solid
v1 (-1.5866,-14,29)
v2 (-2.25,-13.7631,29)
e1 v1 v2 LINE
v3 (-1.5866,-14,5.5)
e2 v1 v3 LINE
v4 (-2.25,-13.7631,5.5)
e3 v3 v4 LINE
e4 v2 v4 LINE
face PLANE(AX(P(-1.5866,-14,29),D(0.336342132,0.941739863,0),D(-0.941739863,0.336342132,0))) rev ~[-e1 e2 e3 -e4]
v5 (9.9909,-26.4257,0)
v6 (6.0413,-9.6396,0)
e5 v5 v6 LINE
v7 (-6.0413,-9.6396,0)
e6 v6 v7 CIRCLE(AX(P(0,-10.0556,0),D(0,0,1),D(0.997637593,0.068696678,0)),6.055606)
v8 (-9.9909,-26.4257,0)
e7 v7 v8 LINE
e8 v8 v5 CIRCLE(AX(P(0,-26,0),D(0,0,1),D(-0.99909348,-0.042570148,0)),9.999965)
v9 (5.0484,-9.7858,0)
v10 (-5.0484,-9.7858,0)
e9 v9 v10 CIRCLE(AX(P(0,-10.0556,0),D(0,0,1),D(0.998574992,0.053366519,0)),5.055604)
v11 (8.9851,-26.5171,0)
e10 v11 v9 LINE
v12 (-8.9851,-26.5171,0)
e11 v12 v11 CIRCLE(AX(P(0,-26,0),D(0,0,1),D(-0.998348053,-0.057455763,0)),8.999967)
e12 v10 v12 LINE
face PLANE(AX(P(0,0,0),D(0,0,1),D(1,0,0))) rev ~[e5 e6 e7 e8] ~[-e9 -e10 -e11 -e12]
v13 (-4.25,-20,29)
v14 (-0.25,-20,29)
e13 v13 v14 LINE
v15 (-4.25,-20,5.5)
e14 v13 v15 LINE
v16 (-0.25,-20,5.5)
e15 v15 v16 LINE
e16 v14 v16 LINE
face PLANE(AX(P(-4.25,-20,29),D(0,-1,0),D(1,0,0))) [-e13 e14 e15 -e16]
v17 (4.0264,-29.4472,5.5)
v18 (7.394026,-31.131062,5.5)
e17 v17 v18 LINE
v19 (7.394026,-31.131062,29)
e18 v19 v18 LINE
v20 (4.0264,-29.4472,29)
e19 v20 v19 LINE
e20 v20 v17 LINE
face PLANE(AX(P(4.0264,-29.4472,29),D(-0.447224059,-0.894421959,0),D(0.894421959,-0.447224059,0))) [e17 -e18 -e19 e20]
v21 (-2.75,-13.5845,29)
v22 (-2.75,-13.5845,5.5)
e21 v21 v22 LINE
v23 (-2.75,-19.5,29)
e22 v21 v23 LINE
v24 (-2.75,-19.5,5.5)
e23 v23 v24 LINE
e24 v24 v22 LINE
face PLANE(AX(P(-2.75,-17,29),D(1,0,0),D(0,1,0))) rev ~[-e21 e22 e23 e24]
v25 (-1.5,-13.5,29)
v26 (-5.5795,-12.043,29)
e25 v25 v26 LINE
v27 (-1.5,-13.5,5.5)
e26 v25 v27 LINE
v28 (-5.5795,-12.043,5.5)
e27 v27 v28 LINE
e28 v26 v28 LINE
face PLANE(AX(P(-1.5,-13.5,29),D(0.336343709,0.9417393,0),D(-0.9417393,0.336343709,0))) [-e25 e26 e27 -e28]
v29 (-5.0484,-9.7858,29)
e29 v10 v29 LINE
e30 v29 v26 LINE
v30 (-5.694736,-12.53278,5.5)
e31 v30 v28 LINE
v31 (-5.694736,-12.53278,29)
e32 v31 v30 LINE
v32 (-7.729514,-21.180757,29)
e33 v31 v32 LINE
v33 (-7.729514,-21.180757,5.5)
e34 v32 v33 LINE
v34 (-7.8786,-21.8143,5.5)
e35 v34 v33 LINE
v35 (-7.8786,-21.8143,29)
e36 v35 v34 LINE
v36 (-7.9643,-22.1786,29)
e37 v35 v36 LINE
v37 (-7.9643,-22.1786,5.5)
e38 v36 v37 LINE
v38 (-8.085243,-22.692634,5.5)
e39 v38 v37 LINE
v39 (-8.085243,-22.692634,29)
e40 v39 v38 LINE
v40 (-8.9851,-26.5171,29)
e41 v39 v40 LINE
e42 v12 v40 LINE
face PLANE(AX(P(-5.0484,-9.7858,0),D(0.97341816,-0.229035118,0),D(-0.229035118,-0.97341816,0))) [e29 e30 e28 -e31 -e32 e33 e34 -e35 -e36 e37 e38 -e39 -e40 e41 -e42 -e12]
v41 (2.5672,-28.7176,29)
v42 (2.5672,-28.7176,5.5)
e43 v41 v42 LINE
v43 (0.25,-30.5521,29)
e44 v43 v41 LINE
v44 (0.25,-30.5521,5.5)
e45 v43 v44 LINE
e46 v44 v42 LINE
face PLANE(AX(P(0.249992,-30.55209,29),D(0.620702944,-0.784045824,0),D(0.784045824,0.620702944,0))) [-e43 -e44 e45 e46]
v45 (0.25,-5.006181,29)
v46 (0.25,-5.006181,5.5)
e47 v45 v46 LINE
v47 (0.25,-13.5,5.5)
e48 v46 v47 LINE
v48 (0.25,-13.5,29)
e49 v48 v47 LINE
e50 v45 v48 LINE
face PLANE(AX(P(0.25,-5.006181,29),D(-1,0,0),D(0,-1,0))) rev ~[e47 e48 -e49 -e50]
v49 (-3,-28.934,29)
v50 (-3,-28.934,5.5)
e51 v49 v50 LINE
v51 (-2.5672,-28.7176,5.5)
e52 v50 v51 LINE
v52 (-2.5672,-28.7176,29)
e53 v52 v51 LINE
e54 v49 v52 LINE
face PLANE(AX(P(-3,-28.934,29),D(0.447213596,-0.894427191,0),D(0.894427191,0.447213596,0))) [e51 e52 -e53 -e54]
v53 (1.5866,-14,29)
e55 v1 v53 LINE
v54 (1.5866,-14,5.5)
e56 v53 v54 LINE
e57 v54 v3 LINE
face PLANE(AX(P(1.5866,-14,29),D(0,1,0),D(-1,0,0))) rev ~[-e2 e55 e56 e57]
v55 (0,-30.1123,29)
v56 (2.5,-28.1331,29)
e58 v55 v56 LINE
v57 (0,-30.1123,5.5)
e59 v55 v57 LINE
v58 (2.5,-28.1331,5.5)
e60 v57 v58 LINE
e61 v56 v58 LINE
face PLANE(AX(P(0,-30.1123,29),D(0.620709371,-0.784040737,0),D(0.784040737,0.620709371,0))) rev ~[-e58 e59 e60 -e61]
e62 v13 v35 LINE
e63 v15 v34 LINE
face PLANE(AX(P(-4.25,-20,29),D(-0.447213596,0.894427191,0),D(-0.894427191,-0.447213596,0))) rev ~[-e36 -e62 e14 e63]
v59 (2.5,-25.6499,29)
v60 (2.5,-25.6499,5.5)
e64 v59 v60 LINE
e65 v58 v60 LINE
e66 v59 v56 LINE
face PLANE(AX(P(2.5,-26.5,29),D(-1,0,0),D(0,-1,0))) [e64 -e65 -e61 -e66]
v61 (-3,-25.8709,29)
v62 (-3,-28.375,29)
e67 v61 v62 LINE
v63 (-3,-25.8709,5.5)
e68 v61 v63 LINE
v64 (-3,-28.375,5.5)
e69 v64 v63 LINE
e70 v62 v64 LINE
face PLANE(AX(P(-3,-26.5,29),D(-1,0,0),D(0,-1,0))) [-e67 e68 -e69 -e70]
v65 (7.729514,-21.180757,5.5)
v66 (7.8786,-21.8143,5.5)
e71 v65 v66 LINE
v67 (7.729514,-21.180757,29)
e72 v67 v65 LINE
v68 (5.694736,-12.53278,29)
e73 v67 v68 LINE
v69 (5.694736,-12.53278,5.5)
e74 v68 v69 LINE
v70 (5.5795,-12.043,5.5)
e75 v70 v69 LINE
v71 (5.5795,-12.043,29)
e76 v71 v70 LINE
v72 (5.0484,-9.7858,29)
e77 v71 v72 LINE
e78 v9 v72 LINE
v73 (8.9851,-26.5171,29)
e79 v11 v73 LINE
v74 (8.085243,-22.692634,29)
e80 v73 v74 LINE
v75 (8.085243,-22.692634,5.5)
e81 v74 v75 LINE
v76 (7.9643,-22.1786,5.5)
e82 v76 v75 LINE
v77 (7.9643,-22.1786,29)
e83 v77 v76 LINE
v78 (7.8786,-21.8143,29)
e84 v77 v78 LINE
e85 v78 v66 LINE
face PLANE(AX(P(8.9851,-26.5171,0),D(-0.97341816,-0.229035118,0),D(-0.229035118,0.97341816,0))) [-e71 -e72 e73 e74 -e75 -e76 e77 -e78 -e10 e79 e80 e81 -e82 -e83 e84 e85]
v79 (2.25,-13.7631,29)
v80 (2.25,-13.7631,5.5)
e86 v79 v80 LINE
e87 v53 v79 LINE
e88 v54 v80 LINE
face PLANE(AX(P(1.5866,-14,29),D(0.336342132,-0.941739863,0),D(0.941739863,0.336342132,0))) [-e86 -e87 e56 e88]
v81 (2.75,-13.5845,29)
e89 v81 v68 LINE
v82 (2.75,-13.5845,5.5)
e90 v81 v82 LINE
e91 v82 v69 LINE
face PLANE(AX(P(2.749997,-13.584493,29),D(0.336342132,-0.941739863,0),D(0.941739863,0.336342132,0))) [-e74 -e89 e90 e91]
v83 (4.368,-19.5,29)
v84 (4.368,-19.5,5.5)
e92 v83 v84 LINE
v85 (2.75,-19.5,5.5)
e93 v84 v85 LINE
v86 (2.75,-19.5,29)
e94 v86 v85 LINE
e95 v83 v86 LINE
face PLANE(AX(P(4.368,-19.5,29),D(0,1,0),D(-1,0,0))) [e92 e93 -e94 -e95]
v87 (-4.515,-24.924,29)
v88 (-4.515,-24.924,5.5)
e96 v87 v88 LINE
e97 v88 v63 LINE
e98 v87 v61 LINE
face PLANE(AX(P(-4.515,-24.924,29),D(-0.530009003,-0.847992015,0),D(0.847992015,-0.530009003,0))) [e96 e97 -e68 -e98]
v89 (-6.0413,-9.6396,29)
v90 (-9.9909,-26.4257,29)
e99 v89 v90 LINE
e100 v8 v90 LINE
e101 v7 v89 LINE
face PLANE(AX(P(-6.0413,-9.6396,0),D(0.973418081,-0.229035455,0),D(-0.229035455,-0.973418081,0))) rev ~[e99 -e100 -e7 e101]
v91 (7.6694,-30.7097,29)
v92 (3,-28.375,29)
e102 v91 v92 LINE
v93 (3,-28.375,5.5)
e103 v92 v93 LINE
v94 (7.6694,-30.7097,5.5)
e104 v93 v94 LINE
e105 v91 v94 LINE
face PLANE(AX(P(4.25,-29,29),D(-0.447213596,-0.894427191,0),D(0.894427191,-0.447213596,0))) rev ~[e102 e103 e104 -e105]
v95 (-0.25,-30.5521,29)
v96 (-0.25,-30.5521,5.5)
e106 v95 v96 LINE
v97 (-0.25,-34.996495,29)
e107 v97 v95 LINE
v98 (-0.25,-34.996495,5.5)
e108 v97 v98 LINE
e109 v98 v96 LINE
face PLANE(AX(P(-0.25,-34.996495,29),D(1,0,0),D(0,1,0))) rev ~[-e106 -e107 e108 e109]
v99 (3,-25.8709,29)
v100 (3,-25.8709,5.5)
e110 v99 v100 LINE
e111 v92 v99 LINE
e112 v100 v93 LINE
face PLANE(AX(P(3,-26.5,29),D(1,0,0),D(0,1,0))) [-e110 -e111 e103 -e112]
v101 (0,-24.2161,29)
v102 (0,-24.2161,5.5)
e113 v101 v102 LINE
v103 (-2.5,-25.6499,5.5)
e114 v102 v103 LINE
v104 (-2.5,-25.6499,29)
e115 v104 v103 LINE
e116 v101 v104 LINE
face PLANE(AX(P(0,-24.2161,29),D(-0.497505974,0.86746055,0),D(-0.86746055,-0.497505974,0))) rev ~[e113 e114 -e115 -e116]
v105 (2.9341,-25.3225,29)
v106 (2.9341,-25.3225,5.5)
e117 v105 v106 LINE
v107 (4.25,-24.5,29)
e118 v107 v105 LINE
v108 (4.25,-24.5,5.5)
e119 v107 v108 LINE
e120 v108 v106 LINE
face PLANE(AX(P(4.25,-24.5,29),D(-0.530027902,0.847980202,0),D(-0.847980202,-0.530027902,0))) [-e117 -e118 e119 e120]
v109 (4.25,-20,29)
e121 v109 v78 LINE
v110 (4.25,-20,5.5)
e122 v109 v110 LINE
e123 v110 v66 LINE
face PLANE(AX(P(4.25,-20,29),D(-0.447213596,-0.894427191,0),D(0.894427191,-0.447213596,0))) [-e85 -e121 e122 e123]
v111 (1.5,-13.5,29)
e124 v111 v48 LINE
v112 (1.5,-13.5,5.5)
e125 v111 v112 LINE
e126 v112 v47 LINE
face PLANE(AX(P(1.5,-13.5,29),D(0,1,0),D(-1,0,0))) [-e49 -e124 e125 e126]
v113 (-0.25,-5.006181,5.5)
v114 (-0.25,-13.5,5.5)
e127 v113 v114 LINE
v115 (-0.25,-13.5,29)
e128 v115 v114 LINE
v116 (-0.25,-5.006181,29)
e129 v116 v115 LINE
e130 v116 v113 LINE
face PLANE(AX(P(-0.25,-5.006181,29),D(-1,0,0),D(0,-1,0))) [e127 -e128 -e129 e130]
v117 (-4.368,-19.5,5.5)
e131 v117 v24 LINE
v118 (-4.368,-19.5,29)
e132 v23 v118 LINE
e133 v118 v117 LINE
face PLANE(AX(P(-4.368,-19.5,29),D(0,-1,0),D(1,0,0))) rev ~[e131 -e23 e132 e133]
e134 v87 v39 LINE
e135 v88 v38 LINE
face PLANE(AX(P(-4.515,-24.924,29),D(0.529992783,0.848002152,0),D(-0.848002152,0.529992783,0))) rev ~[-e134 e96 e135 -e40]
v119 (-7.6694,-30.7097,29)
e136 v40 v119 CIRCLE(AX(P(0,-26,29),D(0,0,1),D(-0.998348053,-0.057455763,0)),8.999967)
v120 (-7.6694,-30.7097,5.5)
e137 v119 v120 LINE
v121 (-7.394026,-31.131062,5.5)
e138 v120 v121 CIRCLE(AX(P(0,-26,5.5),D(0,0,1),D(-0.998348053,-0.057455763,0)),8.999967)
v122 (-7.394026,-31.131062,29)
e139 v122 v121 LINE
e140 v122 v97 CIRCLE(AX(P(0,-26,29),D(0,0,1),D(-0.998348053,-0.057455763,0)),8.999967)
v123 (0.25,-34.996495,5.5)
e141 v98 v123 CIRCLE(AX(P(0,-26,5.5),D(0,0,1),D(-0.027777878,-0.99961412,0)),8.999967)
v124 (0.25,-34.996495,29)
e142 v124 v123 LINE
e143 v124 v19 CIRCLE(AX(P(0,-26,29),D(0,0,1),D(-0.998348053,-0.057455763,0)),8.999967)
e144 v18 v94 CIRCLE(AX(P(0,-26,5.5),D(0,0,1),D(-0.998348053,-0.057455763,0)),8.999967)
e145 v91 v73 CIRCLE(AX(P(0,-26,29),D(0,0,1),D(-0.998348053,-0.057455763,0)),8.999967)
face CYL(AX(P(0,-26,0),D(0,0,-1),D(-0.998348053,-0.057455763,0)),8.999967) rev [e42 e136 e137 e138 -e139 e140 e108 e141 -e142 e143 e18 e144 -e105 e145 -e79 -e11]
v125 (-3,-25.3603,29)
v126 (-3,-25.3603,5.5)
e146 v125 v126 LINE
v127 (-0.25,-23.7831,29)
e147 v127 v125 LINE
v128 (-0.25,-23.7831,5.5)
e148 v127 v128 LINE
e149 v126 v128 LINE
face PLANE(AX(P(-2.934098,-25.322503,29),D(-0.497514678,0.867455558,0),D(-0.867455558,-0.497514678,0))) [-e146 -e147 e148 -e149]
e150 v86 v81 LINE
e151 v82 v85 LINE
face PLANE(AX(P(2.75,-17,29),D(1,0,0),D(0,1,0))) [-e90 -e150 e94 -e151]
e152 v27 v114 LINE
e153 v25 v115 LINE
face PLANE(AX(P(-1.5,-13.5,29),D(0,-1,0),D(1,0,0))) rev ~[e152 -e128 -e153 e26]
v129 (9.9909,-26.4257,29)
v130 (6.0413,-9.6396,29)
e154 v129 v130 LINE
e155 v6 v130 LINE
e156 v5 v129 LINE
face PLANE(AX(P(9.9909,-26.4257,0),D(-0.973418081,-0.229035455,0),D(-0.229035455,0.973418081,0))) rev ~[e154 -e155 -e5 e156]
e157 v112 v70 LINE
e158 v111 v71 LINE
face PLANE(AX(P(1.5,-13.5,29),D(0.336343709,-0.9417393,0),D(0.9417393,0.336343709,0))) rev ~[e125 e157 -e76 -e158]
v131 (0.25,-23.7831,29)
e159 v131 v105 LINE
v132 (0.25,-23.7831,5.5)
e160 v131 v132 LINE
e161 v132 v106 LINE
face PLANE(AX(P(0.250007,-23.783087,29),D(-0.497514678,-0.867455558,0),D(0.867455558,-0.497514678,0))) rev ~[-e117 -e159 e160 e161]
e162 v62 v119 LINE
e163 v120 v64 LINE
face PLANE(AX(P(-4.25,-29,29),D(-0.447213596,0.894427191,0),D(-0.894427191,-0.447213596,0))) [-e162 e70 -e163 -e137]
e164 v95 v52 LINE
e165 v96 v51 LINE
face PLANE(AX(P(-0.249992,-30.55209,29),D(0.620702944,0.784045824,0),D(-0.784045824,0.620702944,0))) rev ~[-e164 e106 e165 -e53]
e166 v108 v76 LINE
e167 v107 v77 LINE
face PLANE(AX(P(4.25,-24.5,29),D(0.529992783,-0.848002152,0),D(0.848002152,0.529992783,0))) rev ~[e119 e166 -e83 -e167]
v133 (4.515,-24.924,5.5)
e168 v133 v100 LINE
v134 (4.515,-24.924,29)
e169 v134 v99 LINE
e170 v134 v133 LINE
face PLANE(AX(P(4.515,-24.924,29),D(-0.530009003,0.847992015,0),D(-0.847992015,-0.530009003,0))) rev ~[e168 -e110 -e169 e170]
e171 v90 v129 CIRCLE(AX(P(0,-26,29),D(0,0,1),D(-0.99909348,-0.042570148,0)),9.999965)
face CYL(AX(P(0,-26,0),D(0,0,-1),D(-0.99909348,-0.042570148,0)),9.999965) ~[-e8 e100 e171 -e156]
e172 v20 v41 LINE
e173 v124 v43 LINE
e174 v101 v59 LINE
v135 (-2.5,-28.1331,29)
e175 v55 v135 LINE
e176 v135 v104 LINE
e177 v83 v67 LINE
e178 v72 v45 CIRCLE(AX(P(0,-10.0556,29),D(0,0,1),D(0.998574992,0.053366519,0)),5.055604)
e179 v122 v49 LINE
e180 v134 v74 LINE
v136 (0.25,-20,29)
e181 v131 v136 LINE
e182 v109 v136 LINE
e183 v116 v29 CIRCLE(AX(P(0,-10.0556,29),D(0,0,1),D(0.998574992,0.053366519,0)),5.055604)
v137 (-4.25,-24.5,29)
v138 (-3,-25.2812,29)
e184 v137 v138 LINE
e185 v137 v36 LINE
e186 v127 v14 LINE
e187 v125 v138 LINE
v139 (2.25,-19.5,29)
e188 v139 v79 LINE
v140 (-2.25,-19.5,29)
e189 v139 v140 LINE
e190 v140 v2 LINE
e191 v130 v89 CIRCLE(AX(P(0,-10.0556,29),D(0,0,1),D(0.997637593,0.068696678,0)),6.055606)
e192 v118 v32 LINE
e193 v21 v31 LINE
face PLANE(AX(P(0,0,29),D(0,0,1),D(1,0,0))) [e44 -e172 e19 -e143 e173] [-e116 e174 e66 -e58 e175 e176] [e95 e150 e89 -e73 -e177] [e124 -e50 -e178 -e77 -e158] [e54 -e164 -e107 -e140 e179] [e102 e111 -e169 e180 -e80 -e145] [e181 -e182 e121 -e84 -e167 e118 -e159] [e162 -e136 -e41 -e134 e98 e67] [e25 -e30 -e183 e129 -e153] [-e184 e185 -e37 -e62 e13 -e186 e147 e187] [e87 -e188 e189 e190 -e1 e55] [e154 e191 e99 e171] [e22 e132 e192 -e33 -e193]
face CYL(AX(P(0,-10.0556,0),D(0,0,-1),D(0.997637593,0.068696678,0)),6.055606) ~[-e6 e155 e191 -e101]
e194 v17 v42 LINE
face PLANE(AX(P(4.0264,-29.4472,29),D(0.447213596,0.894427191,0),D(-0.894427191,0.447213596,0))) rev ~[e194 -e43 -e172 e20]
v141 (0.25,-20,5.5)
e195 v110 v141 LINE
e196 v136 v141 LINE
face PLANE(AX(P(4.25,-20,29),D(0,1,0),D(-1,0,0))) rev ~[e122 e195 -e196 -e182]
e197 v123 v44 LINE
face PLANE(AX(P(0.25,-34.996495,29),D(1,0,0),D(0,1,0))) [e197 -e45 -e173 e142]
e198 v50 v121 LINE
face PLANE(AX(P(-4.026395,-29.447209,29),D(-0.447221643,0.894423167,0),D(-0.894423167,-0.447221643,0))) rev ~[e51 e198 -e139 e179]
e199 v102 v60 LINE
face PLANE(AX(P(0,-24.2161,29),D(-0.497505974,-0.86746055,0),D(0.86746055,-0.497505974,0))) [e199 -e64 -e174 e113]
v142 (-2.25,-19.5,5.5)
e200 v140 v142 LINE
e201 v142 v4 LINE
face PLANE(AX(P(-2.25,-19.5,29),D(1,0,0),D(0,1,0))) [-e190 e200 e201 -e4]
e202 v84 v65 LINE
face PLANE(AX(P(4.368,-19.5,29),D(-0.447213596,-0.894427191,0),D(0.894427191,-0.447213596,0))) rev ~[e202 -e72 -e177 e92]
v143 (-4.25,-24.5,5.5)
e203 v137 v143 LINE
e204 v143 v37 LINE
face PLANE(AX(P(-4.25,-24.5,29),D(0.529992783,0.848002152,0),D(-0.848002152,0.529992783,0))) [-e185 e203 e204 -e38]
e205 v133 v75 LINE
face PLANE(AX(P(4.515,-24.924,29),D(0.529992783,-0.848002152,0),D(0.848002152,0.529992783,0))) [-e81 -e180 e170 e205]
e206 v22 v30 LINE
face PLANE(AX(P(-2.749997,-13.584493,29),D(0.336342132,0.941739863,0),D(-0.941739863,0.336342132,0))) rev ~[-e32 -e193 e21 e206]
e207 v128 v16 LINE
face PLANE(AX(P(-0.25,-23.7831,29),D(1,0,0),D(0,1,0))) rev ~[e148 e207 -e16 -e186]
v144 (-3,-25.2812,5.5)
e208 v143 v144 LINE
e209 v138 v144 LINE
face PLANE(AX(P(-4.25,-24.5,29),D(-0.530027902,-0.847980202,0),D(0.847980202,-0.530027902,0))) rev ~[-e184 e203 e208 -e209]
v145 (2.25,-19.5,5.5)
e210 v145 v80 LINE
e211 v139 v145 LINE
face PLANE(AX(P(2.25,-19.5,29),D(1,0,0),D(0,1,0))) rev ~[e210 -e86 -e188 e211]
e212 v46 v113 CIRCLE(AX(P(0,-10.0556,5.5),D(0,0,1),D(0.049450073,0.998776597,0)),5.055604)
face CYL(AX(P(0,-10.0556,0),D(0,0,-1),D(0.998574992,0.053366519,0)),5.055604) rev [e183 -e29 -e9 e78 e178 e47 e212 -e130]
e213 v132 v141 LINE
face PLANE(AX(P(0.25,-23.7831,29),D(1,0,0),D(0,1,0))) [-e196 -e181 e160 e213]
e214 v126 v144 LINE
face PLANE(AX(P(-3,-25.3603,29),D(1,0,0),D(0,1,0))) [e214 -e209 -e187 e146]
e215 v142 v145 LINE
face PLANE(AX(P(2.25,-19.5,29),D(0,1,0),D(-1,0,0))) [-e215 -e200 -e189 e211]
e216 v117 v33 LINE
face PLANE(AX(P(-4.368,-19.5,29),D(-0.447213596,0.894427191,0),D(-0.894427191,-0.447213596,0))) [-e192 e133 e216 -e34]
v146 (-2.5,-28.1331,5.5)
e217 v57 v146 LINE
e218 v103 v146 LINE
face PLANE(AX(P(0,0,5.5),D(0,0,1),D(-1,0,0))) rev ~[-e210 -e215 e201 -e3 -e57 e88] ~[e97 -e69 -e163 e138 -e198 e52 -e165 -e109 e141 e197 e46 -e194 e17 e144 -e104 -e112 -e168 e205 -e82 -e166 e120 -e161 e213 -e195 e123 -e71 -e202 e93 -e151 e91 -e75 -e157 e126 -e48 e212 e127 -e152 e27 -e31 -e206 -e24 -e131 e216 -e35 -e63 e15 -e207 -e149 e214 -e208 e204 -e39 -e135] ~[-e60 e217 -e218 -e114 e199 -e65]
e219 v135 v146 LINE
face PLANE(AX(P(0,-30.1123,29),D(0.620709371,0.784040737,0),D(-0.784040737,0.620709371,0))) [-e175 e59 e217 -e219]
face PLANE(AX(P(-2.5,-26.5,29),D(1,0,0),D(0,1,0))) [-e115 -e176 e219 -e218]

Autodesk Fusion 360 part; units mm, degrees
sketch "Boceto1" plane through (0, 0, 0) normal (0, 0, 1) x (1, 0, 0)
  line L0 (0, -31.5) -> (3, -31.5) construction
  circle A0 centre (3, -22.5) radius 1.5 construction
  circle A1 centre (3, -10.5) radius 1.5 construction
  circle A2 centre (-5.5, -17.5) radius 1.5 construction
  line L1 (0, -35) -> (0, -31.5) construction
  line L2 (0, -35) -> (0, -5) construction
  line L3 (0, -20) -> (7.4517, -20) construction
  circle A3 centre (0, -16.5) radius 1.5 construction
  circle A4 centre (5.5, -17.5) radius 1.5 construction
  circle A5 centre (-3, -22.5) radius 1.5 construction
  circle A6 centre (-3, -10.5) radius 1.5 construction
  line L4 (0, -20) -> (-7.4517, -20) construction
  circle A7 centre (-5.5, -26.5) radius 1.5 construction
  line L5 (8.9851, -26.5171) -> (5.0484, -9.7858)
  arc A8 (-8.9851, -26.5171) -> (8.9851, -26.5171) centre (0, -26) ccw
  circle A9 centre (0, -26.5) radius 1.5 construction
  circle A10 centre (5.5, -26.5) radius 1.5 construction
  circle A11 centre (3, -31.5) radius 1.5 construction
  line L6 (0, -26.5) -> (5.5, -26.5) construction
  circle A12 centre (-3, -31.5) radius 1.5 construction
  line L7 (0, -35) -> (0, -26.5) construction
  line L8 (-5.0484, -9.7858) -> (-8.9851, -26.5171)
  arc A13 (5.0484, -9.7858) -> (-5.0484, -9.7858) centre (0, -10.0556) ccw
  arc A14 (6.0413, -9.6396) -> (-6.0413, -9.6396) centre (0, -10.0556) ccw
  line L9 (-6.0413, -9.6396) -> (-9.9909, -26.4257)
  arc A15 (-9.9909, -26.4257) -> (9.9909, -26.4257) centre (0, -26) ccw
  line L10 (9.9909, -26.4257) -> (6.0413, -9.6396)
  line L11 (5.5, -17.5) -> (4.5, -17.5) construction
  line L12 (-5.5, -17.5) -> (-4.5, -17.5) construction
  circle A16 centre (4.5, -17.5) radius 1.5 construction
  circle A17 centre (-4.5, -17.5) radius 1.5 construction
  line L13 (3, -10.5) -> (2.5, -10.5) construction
  line L14 (-3, -10.5) -> (-2.5, -10.5) construction
  circle A18 centre (2.5, -10.5) radius 1.5 construction
  circle A19 centre (-2.5, -10.5) radius 1.5 construction
  dimension "d3" = 0
  dimension "d4" = 9
  dimension "d7" = 0
  dimension "d8" = 10
  dimension "d11" = 0
  dimension "d12" = 21
  dimension "d15" = 0
  dimension "d16" = 9
  dimension "d17" = 3
  dimension "d18" = 3.5
  dimension "d19" = 3
  dimension "d20" = 3
  dimension "d21" = 3
  dimension "d22" = 5
  dimension "d23" = 5.5
  dimension "d24" = 1
  dimension "d48" = 1
  dimension "d49" = 1
  dimension "d50" = 3
  dimension "d51" = 3
  dimension "d52" = 0.5
  dimension "d53" = 3
  dimension "d54" = 3
extrude "Extruir1" add sketch "Boceto1" along normal blind 29
sketch "Boceto2" plane through (0, 0, 29) normal (0, 0, 1) x (-1, 0, 0)
  arc A0 (-5.0484, 9.7858) -> (5.0484, 9.7858) centre (0, 10.0556) ccw
  line L0 (-5.0484, 9.7858) -> (-8.9851, 26.5171)
  arc A1 (8.9851, 26.5171) -> (-8.9851, 26.5171) centre (0, 26) ccw
  line L1 (8.9851, 26.5171) -> (5.0484, 9.7858)
  line L2 (-9.9909, 26.4257) -> (-6.0413, 9.6396)
  arc A2 (-6.0413, 9.6396) -> (6.0413, 9.6396) centre (0, 10.0556) ccw
  line L3 (6.0413, 9.6396) -> (9.9909, 26.4257)
  arc A3 (9.9909, 26.4257) -> (-9.9909, 26.4257) centre (0, 26) ccw
  circle A4 centre (-5.5, 26.5) radius 1.5
  circle A5 centre (-3, 31.5) radius 1.5
  circle A6 centre (3, 31.5) radius 1.5
  circle A7 centre (0, 26.5) radius 1.5
  line L4 (0, 35) -> (0, 26.5)
  circle A8 centre (-3, 22.5) radius 1.5
  circle A9 centre (-5.5, 17.5) radius 1.5
  circle A10 centre (-3, 10.5) radius 1.5
  circle A11 centre (3, 10.5) radius 1.5
  circle A12 centre (0, 16.5) radius 1.5
  circle A13 centre (5.5, 17.5) radius 1.5
  circle A14 centre (3, 22.5) radius 1.5
  circle A15 centre (5.5, 26.5) radius 1.5
  line L5 (-3, 31.5) -> (-5.5, 26.5) construction
  line L6 (3, 31.5) -> (5.5, 26.5) construction
  line L7 (-3, 22.5) -> (0, 26.5) construction
  line L8 (-3, 22.5) -> (-5.5, 26.5) construction
  line L9 (-5.5, 17.5) -> (-3, 22.5) construction
  line L10 (-5.5, 17.5) -> (0, 16.5) construction
  line L11 (0, 16.5) -> (-3, 10.5) construction
  line L12 (-4.25, 29) -> (-7.6694, 30.7097)
  line L13 (-4.25, 24.5) -> (-7.9643, 22.1786)
  line L14 (-4.25, 20) -> (-7.8786, 21.8143)
  line L15 (-3, 28.375) -> (2.011, 25.8695) construction
  line L16 (-3, 25.2812) -> (3.382, 29.27) construction
  line L17 (-3, 26.5) -> (-3, 28.375)
  line L18 (0, 23.6397) -> (-3, 25.3603)
  line L19 (0, 30.75) -> (-3, 28.375)
  line L20 (-4.25, 29) -> (-3, 28.375)
  line L21 (-4.25, 24.5) -> (-2.9341, 25.3225)
  line L22 (-4.25, 20) -> (0, 20)
  line L23 (-1.5, 13.5) -> (0, 13.5)
  line L24 (-1.5, 13.5) -> (-5.5795, 12.043)
  line L25 (0, 30.75) -> (3, 28.375)
  line L26 (4.25, 29) -> (7.6694, 30.7097)
  line L27 (4.25, 29) -> (3, 28.375)
  line L28 (3, 26.5) -> (3, 28.375)
  line L29 (3, 25.3603) -> (3, 25.2812)
  line L30 (0, 23.6397) -> (3, 25.3603)
  line L31 (4.25, 24.5) -> (2.9341, 25.3225)
  line L32 (4.25, 24.5) -> (7.9643, 22.1786)
  line L33 (4.25, 20) -> (7.8786, 21.8143)
  line L34 (4.25, 20) -> (0, 20)
  line L35 (1.5, 13.5) -> (5.5795, 12.043)
  line L36 (1.5, 13.5) -> (0, 13.5)
  line L37 (-1.5866, 14) -> (-5.7476, 12.5139)
  line L38 (-1.5866, 14) -> (0, 14)
  line L39 (-4.368, 19.5) -> (0, 19.5)
  line L40 (-4.368, 19.5) -> (-8.1022, 21.3671)
  line L41 (-3, 26.5) -> (-3, 25.3603)
  line L42 (3, 26.5) -> (3, 25.3603)
  line L43 (0, 30.1123) -> (-2.5, 28.1331)
  line L44 (-2.5, 26.5) -> (-2.5, 28.1331)
  line L45 (-2.5, 26.5) -> (-2.5, 25.6499)
  line L46 (0, 24.2161) -> (-2.5, 25.6499)
  line L47 (0, 24.2161) -> (2.5, 25.6499)
  line L48 (2.5, 26.5) -> (2.5, 25.6499)
  line L49 (2.5, 26.5) -> (2.5, 28.1331)
  line L50 (0, 30.1123) -> (2.5, 28.1331)
  line L51 (-4.515, 24.924) -> (-8.2293, 22.6026)
  line L52 (-4.515, 24.924) -> (-3, 25.8709)
  line L53 (4.515, 24.924) -> (3, 25.8709)
  line L54 (4.515, 24.924) -> (8.2293, 22.6026)
  line L55 (-4.0264, 29.4472) -> (-7.4457, 31.1569)
  line L56 (-4.0264, 29.4472) -> (-2.5672, 28.7176)
  line L57 (3, 28.934) -> (7.4457, 31.1569)
  line L58 (4.0264, 29.4472) -> (2.5672, 28.7176)
  line L59 (2.8037, 19.5) -> (2.7874, 19.5894)
  line L60 (4.368, 19.5) -> (8.1022, 21.3671)
  line L61 (4.368, 19.5) -> (0, 19.5)
  line L62 (1.5866, 14) -> (0, 14)
  line L63 (1.5866, 14) -> (5.7476, 12.5139)
  line L64 (0, 5) -> (0, 13.5)
  line L65 (0.25, 5) -> (0.25, 13.5)
  line L66 (-0.25, 5) -> (-0.25, 13.5)
  line L67 (-0.25, 23.7831) -> (-0.25, 20)
  line L68 (0.25, 23.7831) -> (0.25, 20)
  line L69 (-0.25, 35) -> (-0.25, 30.5521)
  line L70 (0.25, 35) -> (0.25, 30.5521)
  line L71 (0, 26.5) -> (0, 25)
  line L72 (0, 20) -> (0, 19.5)
  line L73 (0, 18) -> (0, 16.5)
  line L74 (-3.2659, 16.9578) -> (-3.2419, 17.0894)
  line L75 (-2.75, 17) -> (-2.75, 19.5)
  line L76 (-2.75, 17) -> (-2.75, 13.5845)
  line L77 (-2.75, 19.5) -> (-2.25, 19.5)
  line L78 (-2.25, 19.5) -> (-2.25, 13.7631)
  line L79 (2.25, 19.5) -> (2.25, 13.7631)
  line L80 (2.75, 17) -> (2.75, 13.5845)
  line L81 (2.75, 17) -> (2.75, 19.5)
  dimension "d27" = 7
  dimension "d28" = 9
  dimension "d29" = -0.5
  dimension "d31" = 0.5
  dimension "d32" = -0.5
  dimension "d38" = 0.5
  dimension "d39" = -0.5
  dimension "d40" = 0.25
  dimension "d41" = -0.25
  dimension "d55" = 0.5
extrude "Extruir2" add sketch "Boceto2" against normal blind 23.5 contours A0 L23 L64 L66 | L0 L1 L23 L24 L35 L36 L37 L38 L62 L63 | A0 L36 L64 L65 | L37 L39 L75 L76 L77 L78 | L0 L14 L22 L39 L40 L72 L77 | L1 L33 L34 L60 L61 L72 | L61 L63 L79 L80 L81 | L0 L13 L18 L21 L41 L51 L52 | L18 L22 L30 L34 L67 L68 | L17 L18 L19 L25 L28 L30 L41 L42 | A1 L12 L19 L20 L55 L56 | L1 L29 L31 L32 L42 L53 L54 | A1 L4 L19 L69 | A1 L4 L25 L70 | A1 L25 L26 L27 L57 L58
equation "d25 = 5 mm + 18 mm + 5 mm + 1 mm"
